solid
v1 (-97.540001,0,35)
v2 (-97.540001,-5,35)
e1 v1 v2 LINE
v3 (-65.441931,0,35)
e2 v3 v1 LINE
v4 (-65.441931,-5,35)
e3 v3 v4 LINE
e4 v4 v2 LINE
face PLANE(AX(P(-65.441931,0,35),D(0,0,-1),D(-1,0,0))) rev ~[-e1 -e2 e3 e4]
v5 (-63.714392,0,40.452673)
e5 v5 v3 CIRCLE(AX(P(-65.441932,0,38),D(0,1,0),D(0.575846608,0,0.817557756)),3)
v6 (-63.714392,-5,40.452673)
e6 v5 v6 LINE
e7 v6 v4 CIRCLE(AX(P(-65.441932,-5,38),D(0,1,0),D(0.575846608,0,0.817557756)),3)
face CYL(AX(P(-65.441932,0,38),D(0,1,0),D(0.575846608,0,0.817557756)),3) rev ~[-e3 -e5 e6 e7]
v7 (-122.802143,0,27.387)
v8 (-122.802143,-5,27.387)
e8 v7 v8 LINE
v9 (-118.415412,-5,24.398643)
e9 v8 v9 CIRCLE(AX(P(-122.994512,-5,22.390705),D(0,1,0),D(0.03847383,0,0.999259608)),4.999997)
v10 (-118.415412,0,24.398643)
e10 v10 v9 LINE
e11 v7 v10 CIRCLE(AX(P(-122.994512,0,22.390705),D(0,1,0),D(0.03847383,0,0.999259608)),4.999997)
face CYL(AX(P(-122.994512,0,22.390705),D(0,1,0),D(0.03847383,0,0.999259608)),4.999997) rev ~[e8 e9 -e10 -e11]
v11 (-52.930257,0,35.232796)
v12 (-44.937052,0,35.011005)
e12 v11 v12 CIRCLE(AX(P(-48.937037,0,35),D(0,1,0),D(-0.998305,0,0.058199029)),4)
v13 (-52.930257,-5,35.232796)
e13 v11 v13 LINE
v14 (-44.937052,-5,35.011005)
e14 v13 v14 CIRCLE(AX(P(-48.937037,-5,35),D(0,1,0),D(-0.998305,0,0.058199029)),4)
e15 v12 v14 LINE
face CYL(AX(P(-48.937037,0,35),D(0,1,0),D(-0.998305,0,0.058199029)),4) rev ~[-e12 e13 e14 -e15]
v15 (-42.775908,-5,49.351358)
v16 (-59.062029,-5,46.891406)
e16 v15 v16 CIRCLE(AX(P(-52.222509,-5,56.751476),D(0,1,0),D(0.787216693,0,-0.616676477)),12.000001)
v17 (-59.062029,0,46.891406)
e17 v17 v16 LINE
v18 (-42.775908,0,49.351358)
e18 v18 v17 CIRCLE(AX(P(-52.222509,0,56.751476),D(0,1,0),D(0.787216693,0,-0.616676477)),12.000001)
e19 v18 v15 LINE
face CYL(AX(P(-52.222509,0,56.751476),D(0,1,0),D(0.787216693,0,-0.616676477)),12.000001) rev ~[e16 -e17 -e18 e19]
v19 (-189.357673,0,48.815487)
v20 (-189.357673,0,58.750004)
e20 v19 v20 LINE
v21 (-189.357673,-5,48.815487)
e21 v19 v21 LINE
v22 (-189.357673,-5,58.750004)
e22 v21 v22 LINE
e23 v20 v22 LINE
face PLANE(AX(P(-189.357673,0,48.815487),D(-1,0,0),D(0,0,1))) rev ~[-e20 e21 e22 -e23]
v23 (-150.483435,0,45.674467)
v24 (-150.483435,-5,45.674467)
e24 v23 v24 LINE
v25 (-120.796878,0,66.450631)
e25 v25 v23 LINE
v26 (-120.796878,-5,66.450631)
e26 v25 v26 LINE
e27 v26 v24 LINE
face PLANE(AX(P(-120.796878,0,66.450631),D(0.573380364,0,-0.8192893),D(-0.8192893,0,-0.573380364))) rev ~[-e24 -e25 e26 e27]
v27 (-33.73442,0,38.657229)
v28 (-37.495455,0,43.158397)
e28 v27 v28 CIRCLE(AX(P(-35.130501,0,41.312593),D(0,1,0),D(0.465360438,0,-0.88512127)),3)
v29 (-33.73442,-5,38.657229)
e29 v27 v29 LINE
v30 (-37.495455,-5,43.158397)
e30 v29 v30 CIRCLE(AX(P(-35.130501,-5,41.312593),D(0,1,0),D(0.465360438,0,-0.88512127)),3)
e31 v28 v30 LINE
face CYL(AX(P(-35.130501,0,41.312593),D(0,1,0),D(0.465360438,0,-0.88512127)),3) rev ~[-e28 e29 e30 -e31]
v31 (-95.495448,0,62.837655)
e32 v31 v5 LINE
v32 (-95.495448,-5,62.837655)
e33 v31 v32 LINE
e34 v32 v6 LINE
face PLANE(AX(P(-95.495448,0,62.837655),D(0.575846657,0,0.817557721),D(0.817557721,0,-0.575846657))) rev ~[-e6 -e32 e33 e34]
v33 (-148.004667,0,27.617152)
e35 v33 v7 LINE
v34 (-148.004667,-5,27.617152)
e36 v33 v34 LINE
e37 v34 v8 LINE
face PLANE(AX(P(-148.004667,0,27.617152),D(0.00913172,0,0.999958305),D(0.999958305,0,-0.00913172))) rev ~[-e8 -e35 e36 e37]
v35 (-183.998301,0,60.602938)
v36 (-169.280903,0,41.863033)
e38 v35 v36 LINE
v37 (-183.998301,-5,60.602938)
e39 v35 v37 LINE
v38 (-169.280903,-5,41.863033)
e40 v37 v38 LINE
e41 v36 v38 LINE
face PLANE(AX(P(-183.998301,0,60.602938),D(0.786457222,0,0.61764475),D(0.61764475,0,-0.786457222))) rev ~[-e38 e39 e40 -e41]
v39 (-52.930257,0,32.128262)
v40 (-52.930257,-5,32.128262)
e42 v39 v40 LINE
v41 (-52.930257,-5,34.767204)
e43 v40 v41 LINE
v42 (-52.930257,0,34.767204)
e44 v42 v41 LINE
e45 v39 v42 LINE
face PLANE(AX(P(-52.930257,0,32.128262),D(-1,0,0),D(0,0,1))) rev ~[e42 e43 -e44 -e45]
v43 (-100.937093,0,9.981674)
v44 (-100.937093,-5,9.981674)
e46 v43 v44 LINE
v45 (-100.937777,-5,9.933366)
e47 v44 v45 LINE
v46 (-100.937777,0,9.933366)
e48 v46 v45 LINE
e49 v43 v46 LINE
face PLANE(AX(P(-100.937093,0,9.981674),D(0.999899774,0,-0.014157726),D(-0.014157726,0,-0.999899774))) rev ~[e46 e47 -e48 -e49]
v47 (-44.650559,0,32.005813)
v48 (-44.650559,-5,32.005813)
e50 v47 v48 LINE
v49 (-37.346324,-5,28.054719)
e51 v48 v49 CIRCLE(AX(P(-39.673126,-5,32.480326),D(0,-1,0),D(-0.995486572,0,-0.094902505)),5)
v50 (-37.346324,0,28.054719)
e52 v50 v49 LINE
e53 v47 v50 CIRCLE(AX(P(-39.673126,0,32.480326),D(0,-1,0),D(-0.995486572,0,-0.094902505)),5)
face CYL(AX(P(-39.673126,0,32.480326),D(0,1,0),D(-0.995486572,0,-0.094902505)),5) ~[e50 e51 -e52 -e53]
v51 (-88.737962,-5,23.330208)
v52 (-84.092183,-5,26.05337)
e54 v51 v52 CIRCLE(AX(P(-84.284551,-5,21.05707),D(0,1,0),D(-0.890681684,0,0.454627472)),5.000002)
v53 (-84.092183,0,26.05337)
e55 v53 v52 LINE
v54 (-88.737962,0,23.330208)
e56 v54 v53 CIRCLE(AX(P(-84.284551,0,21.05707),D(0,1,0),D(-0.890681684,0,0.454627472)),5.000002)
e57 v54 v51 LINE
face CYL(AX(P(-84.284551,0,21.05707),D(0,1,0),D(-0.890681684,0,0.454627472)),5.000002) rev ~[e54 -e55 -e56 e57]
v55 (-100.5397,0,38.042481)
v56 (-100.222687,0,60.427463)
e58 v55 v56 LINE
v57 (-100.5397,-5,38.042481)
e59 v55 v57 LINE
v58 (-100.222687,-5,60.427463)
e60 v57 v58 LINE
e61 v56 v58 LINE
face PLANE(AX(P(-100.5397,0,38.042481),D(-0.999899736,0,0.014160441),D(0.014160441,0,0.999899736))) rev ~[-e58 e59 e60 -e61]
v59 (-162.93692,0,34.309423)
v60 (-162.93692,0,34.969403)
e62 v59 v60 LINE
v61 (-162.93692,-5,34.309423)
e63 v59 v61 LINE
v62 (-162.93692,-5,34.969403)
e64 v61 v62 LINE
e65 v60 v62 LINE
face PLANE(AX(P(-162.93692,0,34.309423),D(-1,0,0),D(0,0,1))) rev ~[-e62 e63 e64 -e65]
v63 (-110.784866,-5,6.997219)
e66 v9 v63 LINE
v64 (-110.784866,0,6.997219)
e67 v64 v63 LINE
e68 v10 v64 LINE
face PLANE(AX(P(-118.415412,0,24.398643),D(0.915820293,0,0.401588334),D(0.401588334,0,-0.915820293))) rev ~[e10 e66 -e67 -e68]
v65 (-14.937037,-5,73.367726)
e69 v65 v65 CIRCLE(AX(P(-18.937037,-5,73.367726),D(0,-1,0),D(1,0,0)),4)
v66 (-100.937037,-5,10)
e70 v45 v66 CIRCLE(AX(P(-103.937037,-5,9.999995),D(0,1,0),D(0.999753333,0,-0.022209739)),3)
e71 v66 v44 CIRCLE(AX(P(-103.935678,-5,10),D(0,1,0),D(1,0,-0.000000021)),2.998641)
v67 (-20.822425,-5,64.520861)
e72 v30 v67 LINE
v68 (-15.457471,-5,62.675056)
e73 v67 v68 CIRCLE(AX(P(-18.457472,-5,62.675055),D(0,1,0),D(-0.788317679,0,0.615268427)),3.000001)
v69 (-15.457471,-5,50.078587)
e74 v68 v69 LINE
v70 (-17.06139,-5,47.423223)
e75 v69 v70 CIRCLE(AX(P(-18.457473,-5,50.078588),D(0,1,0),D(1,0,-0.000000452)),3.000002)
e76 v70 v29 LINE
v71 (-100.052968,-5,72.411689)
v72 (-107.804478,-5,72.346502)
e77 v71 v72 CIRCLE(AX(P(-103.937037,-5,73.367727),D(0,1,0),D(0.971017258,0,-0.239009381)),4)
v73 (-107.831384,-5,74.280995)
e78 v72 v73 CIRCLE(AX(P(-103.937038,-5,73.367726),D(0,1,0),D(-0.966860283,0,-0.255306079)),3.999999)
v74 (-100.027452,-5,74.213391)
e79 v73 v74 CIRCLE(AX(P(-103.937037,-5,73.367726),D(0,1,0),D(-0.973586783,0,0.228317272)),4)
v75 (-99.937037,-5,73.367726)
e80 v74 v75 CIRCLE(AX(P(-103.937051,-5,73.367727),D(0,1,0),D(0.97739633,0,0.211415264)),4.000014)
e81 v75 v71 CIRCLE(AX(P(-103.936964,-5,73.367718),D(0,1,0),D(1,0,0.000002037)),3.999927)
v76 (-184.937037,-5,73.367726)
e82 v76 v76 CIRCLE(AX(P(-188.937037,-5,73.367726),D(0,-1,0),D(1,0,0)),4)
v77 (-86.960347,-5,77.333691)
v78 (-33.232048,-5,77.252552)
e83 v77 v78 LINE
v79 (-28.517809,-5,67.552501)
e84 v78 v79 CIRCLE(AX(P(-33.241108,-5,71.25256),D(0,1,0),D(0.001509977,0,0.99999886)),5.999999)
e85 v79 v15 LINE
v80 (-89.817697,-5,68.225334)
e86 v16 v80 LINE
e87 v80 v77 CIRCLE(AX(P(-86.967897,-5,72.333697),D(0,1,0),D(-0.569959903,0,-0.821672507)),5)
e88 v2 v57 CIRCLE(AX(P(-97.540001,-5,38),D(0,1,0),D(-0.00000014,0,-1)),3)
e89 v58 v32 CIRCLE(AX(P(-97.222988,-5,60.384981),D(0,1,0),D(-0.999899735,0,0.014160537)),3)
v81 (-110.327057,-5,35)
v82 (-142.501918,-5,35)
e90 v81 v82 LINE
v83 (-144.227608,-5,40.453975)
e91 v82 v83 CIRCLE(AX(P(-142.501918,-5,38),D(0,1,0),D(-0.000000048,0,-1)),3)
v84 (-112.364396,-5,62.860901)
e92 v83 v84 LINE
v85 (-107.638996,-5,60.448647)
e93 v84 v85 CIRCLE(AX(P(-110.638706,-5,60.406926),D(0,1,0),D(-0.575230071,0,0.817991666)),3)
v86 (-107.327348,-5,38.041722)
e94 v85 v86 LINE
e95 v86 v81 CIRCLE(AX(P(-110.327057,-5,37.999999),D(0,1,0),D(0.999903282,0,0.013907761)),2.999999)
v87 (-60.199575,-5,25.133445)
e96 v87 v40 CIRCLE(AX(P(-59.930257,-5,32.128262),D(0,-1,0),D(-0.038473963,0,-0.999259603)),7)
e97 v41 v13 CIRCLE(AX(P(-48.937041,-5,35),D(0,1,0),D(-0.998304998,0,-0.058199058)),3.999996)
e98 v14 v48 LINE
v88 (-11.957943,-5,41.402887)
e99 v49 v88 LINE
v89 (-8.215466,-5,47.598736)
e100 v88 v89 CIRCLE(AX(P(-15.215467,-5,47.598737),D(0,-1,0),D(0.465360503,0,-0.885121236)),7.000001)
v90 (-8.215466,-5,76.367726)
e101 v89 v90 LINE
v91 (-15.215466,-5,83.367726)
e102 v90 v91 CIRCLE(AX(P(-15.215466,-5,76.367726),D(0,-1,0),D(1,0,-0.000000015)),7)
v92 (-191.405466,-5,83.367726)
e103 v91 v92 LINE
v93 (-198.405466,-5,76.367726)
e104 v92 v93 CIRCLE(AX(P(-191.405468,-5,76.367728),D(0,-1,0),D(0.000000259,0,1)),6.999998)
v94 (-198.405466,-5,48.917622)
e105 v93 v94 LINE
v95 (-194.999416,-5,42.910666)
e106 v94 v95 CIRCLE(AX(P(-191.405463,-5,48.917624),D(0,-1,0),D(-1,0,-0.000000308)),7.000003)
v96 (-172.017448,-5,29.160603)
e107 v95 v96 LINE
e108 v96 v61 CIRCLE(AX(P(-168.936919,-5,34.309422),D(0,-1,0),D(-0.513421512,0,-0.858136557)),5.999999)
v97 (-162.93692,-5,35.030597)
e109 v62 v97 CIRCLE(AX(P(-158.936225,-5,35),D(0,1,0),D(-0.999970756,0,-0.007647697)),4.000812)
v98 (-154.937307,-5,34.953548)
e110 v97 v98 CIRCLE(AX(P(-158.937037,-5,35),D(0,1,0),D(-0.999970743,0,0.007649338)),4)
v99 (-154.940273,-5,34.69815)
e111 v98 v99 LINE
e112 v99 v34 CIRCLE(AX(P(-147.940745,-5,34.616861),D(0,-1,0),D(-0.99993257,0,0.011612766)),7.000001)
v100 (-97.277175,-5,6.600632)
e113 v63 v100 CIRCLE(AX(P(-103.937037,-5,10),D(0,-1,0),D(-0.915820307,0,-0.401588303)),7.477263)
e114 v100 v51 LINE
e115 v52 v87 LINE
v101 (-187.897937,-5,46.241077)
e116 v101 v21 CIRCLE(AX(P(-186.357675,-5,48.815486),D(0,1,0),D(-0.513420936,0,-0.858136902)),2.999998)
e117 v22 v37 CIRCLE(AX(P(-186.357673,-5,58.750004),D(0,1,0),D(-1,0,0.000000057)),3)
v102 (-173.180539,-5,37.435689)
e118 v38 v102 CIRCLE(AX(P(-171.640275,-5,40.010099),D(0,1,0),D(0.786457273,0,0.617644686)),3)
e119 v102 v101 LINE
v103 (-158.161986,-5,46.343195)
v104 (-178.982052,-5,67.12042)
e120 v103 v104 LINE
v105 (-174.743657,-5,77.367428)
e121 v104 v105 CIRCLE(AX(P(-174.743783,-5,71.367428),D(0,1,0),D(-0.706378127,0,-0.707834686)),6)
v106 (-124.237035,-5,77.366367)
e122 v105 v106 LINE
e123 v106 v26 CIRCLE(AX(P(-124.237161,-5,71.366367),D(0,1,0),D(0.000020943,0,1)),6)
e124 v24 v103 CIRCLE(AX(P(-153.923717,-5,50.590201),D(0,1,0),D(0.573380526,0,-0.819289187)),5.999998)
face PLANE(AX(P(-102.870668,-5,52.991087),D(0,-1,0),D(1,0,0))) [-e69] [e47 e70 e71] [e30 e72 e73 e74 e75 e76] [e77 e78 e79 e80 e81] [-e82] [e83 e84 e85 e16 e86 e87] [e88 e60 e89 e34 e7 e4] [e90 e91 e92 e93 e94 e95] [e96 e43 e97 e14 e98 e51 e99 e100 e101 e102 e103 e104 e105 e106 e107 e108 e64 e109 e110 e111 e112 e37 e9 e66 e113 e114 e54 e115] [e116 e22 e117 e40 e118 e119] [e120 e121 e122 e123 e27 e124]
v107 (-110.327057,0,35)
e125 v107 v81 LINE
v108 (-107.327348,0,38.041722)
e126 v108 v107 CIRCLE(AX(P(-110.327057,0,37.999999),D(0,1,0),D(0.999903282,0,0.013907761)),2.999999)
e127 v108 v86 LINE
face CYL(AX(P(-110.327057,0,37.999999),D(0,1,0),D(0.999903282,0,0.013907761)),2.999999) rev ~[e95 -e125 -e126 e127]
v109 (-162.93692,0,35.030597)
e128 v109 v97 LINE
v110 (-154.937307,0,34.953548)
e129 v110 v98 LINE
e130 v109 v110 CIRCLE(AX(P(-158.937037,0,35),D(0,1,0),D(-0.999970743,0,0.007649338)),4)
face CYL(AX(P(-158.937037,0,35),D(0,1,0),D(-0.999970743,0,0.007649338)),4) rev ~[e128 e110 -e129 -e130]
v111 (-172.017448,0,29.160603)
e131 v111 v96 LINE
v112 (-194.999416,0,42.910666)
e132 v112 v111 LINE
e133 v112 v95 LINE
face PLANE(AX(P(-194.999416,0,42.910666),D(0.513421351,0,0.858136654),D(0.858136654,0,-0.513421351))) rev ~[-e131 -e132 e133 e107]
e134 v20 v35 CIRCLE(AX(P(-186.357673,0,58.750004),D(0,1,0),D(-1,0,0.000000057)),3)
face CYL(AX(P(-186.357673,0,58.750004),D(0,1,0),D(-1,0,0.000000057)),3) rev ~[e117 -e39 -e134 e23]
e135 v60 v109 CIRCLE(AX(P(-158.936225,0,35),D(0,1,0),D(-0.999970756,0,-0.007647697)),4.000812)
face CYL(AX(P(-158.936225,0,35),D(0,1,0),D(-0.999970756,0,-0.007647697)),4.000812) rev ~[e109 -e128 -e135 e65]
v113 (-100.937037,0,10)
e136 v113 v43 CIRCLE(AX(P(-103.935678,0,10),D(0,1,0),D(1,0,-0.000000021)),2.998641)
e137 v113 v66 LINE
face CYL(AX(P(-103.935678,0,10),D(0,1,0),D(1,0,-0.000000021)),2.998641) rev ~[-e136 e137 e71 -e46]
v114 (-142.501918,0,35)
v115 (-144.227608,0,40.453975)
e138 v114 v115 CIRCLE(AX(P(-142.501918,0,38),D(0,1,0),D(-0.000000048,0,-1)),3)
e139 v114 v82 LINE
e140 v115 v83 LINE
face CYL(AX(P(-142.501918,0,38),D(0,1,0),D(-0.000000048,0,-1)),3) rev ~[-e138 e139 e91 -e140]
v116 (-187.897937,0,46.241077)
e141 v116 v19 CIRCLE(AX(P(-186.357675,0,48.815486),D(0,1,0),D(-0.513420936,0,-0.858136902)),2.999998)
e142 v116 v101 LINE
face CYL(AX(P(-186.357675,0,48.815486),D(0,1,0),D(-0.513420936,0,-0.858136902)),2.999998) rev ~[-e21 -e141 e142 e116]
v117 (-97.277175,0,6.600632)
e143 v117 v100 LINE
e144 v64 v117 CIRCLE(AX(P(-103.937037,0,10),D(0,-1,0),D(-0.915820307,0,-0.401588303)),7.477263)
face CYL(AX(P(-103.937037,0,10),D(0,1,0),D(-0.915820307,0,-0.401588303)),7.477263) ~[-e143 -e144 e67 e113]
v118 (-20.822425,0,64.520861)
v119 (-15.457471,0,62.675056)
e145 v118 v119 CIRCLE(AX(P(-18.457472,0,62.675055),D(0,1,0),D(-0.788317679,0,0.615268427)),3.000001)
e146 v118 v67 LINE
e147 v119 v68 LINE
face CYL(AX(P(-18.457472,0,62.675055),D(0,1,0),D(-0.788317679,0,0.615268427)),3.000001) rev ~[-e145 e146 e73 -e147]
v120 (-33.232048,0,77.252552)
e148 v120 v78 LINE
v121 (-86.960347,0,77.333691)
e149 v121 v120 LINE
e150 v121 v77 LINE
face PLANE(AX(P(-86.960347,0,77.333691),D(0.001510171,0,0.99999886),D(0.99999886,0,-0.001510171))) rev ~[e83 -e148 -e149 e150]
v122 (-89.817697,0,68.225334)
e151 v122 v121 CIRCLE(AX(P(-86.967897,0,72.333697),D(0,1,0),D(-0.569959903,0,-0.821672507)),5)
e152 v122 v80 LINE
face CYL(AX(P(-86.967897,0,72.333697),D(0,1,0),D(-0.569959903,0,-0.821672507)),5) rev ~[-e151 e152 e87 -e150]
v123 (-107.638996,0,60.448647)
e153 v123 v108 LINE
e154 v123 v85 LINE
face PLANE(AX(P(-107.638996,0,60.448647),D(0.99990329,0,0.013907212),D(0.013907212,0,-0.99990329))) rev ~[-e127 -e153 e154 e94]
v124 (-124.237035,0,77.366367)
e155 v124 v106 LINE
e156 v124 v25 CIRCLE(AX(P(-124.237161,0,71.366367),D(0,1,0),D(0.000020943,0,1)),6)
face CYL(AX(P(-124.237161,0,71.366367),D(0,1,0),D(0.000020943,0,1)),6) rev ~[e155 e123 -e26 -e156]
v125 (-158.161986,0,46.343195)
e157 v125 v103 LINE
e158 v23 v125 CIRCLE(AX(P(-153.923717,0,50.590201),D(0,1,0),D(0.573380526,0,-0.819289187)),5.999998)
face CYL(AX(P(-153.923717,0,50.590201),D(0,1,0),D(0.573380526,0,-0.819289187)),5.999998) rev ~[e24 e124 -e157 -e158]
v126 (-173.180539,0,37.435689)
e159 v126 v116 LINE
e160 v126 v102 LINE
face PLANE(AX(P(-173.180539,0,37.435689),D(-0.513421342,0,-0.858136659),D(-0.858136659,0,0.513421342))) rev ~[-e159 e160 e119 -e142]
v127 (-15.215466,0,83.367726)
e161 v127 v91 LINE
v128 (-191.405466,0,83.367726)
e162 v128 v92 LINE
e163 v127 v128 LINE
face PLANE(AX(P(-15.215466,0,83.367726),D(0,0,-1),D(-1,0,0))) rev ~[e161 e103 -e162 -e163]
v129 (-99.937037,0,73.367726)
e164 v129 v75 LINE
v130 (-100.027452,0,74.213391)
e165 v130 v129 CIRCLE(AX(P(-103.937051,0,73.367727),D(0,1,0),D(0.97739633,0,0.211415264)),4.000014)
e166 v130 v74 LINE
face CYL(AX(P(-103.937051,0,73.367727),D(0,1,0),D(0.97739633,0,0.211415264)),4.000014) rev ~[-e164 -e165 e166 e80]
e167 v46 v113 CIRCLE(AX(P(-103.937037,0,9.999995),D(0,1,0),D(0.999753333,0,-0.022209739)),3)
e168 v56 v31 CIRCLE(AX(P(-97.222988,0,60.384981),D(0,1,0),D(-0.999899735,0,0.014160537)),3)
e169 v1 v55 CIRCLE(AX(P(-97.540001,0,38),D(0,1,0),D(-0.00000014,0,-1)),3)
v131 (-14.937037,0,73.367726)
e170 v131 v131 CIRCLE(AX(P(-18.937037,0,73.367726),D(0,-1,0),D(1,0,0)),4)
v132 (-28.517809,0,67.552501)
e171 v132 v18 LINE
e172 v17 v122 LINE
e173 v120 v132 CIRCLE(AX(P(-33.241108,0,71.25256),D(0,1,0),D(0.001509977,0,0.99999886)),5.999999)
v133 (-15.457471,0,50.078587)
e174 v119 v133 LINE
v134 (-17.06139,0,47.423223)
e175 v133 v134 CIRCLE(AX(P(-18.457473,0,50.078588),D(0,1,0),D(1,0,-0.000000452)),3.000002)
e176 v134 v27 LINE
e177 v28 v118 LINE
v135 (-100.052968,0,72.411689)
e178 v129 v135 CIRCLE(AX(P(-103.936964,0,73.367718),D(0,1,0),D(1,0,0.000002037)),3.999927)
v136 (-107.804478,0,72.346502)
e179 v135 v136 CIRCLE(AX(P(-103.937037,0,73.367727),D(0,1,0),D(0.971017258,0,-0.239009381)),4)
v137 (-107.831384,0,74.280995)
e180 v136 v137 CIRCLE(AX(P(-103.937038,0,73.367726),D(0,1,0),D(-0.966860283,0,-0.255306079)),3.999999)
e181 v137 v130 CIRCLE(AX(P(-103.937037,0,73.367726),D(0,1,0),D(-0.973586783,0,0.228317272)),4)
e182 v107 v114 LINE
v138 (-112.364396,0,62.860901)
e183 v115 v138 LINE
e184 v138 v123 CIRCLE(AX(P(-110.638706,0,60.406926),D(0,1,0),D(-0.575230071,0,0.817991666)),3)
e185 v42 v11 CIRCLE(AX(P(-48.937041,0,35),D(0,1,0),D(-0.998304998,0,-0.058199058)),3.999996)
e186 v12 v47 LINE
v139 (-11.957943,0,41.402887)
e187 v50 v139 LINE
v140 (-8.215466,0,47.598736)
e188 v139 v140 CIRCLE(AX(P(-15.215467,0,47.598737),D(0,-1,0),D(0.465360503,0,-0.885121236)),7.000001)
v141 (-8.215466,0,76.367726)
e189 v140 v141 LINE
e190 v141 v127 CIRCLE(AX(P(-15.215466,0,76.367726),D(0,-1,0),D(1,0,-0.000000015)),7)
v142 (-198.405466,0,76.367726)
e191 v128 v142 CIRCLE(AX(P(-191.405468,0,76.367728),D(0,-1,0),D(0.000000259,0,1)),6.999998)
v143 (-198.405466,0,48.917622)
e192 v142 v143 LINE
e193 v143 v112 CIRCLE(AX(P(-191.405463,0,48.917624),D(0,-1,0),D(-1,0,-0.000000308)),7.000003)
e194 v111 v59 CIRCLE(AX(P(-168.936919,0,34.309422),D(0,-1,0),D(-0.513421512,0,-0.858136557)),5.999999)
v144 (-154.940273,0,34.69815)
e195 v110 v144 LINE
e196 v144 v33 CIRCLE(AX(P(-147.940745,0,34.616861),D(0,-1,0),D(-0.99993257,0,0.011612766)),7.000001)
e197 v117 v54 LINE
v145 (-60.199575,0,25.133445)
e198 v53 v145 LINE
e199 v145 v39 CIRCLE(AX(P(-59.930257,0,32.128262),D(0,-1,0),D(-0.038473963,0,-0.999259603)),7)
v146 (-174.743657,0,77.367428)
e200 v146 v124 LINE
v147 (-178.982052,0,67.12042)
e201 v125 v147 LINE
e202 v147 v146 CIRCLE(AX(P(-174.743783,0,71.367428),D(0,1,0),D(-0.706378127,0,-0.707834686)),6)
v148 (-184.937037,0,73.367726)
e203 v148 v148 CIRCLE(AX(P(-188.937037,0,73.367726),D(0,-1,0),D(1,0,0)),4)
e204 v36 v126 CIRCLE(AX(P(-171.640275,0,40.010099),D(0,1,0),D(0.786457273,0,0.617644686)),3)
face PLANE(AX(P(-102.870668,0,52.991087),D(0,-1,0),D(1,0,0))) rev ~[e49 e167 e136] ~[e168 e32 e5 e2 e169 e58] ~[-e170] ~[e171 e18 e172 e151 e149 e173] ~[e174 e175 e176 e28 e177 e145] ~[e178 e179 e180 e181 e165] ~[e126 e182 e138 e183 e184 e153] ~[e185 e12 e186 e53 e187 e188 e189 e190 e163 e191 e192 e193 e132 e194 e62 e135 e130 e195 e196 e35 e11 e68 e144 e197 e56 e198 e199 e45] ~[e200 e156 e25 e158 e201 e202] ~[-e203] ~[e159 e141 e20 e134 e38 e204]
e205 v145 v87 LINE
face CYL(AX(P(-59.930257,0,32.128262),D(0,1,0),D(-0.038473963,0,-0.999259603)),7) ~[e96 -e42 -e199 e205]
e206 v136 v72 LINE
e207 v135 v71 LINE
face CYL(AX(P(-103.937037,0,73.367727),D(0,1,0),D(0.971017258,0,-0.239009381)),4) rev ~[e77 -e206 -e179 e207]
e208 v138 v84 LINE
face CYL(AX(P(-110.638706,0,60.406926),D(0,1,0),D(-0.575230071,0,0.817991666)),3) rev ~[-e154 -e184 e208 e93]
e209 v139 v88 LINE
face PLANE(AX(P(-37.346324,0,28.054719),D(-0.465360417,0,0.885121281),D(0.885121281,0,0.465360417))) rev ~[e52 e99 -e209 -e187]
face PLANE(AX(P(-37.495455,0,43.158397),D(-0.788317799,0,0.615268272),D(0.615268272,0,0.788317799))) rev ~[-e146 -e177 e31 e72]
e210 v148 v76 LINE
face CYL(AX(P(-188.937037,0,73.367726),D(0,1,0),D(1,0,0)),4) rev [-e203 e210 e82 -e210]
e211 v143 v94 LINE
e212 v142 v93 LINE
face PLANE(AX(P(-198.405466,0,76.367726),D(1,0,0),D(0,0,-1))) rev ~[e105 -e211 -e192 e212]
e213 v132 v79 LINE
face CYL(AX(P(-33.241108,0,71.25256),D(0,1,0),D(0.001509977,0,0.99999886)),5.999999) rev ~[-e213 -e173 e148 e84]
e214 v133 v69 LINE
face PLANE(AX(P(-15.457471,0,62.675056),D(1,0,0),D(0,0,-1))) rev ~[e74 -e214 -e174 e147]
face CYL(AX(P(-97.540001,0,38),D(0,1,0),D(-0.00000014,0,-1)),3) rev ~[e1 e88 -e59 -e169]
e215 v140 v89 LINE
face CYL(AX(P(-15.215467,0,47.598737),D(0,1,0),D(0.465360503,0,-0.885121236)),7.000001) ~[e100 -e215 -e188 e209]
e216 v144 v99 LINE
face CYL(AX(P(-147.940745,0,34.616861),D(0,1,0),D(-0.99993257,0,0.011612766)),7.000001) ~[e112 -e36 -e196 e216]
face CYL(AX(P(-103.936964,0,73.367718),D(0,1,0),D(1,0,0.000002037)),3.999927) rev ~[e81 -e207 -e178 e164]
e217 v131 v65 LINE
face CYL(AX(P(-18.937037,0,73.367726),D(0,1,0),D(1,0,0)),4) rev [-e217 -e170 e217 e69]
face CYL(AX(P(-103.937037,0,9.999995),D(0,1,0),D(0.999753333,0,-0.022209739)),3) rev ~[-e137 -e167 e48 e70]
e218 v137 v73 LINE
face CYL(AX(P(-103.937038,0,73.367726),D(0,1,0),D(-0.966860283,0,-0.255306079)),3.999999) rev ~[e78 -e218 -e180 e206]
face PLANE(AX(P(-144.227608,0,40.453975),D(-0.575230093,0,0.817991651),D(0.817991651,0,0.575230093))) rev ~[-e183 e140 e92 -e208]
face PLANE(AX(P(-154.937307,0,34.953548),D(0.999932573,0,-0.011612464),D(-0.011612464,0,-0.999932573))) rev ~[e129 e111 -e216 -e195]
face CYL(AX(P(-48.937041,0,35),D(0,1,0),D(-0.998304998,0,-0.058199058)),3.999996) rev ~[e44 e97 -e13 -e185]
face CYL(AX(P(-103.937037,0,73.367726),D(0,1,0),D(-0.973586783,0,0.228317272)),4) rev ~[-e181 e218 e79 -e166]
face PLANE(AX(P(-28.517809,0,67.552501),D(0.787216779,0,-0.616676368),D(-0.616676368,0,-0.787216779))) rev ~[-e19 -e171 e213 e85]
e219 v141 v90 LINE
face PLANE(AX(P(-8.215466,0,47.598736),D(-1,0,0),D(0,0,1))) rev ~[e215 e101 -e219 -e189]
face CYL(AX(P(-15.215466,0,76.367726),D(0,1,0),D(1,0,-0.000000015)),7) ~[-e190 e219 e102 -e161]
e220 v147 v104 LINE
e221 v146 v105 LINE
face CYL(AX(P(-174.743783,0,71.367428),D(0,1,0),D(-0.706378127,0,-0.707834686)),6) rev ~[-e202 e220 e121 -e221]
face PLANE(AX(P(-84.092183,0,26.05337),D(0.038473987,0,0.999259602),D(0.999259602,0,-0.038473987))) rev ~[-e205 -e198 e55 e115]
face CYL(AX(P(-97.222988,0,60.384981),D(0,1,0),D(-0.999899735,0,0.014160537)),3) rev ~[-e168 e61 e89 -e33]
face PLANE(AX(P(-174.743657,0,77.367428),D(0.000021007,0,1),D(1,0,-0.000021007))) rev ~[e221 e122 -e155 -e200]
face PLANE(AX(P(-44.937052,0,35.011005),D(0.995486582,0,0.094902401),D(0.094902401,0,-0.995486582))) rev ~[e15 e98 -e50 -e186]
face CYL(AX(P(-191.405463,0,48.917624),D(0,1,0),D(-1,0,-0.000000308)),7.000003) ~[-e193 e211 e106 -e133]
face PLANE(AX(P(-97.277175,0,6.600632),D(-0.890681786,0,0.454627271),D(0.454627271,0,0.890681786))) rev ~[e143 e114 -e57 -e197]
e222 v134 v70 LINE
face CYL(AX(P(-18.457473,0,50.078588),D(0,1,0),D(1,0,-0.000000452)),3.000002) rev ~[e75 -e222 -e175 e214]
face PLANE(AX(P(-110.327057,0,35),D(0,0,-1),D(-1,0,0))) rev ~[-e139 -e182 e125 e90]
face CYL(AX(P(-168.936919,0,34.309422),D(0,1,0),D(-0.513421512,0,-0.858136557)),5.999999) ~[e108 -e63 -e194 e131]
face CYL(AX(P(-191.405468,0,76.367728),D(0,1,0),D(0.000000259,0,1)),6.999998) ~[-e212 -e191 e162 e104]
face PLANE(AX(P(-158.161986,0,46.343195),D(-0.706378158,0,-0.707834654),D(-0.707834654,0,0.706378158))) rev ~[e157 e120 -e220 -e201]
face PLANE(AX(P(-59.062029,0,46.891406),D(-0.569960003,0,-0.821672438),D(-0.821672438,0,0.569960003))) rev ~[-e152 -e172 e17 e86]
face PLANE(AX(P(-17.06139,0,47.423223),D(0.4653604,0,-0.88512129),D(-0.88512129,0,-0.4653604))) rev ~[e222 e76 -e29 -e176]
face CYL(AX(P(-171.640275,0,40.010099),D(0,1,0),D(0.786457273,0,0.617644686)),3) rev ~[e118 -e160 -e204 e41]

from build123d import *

# Parameters (mm, degrees)
F0_R     = 4
F1_DEPTH = 5


with BuildPart() as f1:
    # F0 (on Front) → F1 (new body)
    with BuildSketch(Plane.XZ):
        with BuildLine():
            ThreePointArc((-162.93692, 35.030597), (-158.898512, 38.999814), (-154.937307, 34.953548))
            Line((-154.937307, 34.953548), (-154.940273, 34.69815))
            ThreePointArc((-154.940273, 34.69815), (-152.941566, 29.718719), (-148.004667, 27.617152))
            Line((-148.004667, 27.617152), (-122.802143, 27.387))
            ThreePointArc((-122.802143, 27.387), (-120.179499, 26.522977), (-118.415412, 24.398643))
            Line((-118.415412, 24.398643), (-110.784866, 6.997219))
            ThreePointArc((-110.784866, 6.997219), (-104.156475, 2.525958), (-97.277175, 6.600632))
            Line((-97.277175, 6.600632), (-88.737962, 23.330208))
            ThreePointArc((-88.737962, 23.330208), (-86.812994, 25.370653), (-84.092183, 26.05337))
            Line((-84.092183, 26.05337), (-60.199575, 25.133445))
            ThreePointArc((-60.199575, 25.133445), (-55.076662, 27.084195), (-52.930257, 32.128262))
            Line((-52.930257, 32.128262), (-52.930257, 34.767204))
            ThreePointArc((-52.930257, 34.767204), (-52.937037, 35), (-52.930257, 35.232796))
            ThreePointArc((-52.930257, 35.232796), (-48.82609, 38.998461), (-44.937052, 35.011005))
            Line((-44.937052, 35.011005), (-44.650559, 32.005813))
            ThreePointArc((-44.650559, 32.005813), (-42.052043, 28.082513), (-37.346324, 28.054719))
            Line((-37.346324, 28.054719), (-11.957943, 41.402887))
            ThreePointArc((-11.957943, 41.402887), (-9.223694, 43.979528), (-8.215466, 47.598736))
            Line((-8.215466, 47.598736), (-8.215466, 76.367726))
            ThreePointArc((-8.215466, 76.367726), (-10.265719, 81.317474), (-15.215466, 83.367726))
            Line((-15.215466, 83.367726), (-191.405466, 83.367726))
            ThreePointArc((-191.405466, 83.367726), (-196.355214, 81.317474), (-198.405466, 76.367726))
            Line((-198.405466, 76.367726), (-198.405466, 48.917622))
            ThreePointArc((-198.405466, 48.917622), (-197.494704, 45.464917), (-194.999416, 42.910666))
            Line((-194.999416, 42.910666), (-172.017448, 29.160603))
            ThreePointArc((-172.017448, 29.160603), (-165.977458, 29.090075), (-162.93692, 34.309423))
            Line((-162.93692, 34.309423), (-162.93692, 34.969403))
            ThreePointArc((-162.93692, 34.969403), (-162.937037, 35), (-162.93692, 35.030597))
        make_face()
        with BuildLine():
            ThreePointArc((-100.937777, 9.933366), (-106.936852, 10.033319), (-100.937037, 10))
            ThreePointArc((-100.937037, 10), (-100.937051, 9.990837), (-100.937093, 9.981674))
            Line((-100.937093, 9.981674), (-100.937777, 9.933366))
        make_face(mode=Mode.SUBTRACT)
        with BuildLine():
            ThreePointArc((-189.357673, 58.750004), (-187.33795, 61.585327), (-183.998301, 60.602938))
            Line((-183.998301, 60.602938), (-169.280903, 41.863033))
            ThreePointArc((-169.280903, 41.863033), (-169.389036, 38.027191), (-173.180539, 37.435689))
            Line((-173.180539, 37.435689), (-187.897937, 46.241077))
            ThreePointArc((-187.897937, 46.241077), (-188.967347, 47.335756), (-189.357673, 48.815487))
            Line((-189.357673, 48.815487), (-189.357673, 58.750004))
        make_face(mode=Mode.SUBTRACT)
        with BuildLine():
            Line((-144.227608, 40.453975), (-112.364396, 62.860901))
            ThreePointArc((-112.364396, 62.860901), (-109.274696, 63.078906), (-107.638996, 60.448647))
            Line((-107.638996, 60.448647), (-107.327348, 38.041722))
            ThreePointArc((-107.327348, 38.041722), (-108.191037, 35.893482), (-110.327057, 35))
            Line((-110.327057, 35), (-142.501918, 35))
            ThreePointArc((-142.501918, 35), (-145.362156, 37.094993), (-144.227608, 40.453975))
        make_face(mode=Mode.SUBTRACT)
        with BuildLine():
            Line((-158.161986, 46.343195), (-178.982052, 67.12042))
            ThreePointArc((-178.982052, 67.12042), (-180.288218, 73.660732), (-174.743657, 77.367428))
            Line((-174.743657, 77.367428), (-124.237035, 77.366367))
            ThreePointArc((-124.237035, 77.366367), (-118.514624, 73.169857), (-120.796878, 66.450631))
            Line((-120.796878, 66.450631), (-150.483435, 45.674467))
            ThreePointArc((-150.483435, 45.674467), (-154.444289, 44.612828), (-158.161986, 46.343195))
        make_face(mode=Mode.SUBTRACT)
        with Locations((-188.937037, 73.367726)):
            Circle(F0_R, mode=Mode.SUBTRACT)
        with BuildLine():
            ThreePointArc((-100.027452, 74.213391), (-99.959705, 73.792969), (-99.937037, 73.367726))
            ThreePointArc((-99.937037, 73.367726), (-99.966125, 72.886206), (-100.052968, 72.411689))
            ThreePointArc((-100.052968, 72.411689), (-103.9034, 69.367868), (-107.804478, 72.346502))
            ThreePointArc((-107.804478, 72.346502), (-107.93665, 73.312097), (-107.831384, 74.280995))
            ThreePointArc((-107.831384, 74.280995), (-103.902387, 77.367576), (-100.027452, 74.213391))
        make_face(mode=Mode.SUBTRACT)
        with BuildLine():
            ThreePointArc((-100.222687, 60.427463), (-98.585652, 63.057648), (-95.495448, 62.837655))
            Line((-95.495448, 62.837655), (-63.714392, 40.452673))
            ThreePointArc((-63.714392, 40.452673), (-62.582035, 37.093915), (-65.441931, 35))
            Line((-65.441931, 35), (-97.540001, 35))
            ThreePointArc((-97.540001, 35), (-99.676288, 35.893753), (-100.5397, 38.042481))
            Line((-100.5397, 38.042481), (-100.222687, 60.427463))
        make_face(mode=Mode.SUBTRACT)
        with BuildLine():
            Line((-59.062029, 46.891406), (-89.817697, 68.225334))
            ThreePointArc((-89.817697, 68.225334), (-91.738656, 73.830314), (-86.960347, 77.333691))
            Line((-86.960347, 77.333691), (-33.232048, 77.252552))
            ThreePointArc((-33.232048, 77.252552), (-27.844669, 73.875237), (-28.517809, 67.552501))
            Line((-28.517809, 67.552501), (-42.775908, 49.351358))
            ThreePointArc((-42.775908, 49.351358), (-50.430287, 44.886066), (-59.062029, 46.891406))
        make_face(mode=Mode.SUBTRACT)
        with BuildLine():
            Line((-37.495455, 43.158397), (-20.822425, 64.520861))
            ThreePointArc((-20.822425, 64.520861), (-17.481474, 65.511855), (-15.457471, 62.675056))
            Line((-15.457471, 62.675056), (-15.457471, 50.078587))
            ThreePointArc((-15.457471, 50.078587), (-15.889569, 48.527498), (-17.06139, 47.423223))
            Line((-17.06139, 47.423223), (-33.73442, 38.657229))
            ThreePointArc((-33.73442, 38.657229), (-37.432632, 39.389004), (-37.495455, 43.158397))
        make_face(mode=Mode.SUBTRACT)
        with Locations((-18.937037, 73.367726)):
            Circle(F0_R, mode=Mode.SUBTRACT)
    extrude(amount=F1_DEPTH)


solid = f1.part
